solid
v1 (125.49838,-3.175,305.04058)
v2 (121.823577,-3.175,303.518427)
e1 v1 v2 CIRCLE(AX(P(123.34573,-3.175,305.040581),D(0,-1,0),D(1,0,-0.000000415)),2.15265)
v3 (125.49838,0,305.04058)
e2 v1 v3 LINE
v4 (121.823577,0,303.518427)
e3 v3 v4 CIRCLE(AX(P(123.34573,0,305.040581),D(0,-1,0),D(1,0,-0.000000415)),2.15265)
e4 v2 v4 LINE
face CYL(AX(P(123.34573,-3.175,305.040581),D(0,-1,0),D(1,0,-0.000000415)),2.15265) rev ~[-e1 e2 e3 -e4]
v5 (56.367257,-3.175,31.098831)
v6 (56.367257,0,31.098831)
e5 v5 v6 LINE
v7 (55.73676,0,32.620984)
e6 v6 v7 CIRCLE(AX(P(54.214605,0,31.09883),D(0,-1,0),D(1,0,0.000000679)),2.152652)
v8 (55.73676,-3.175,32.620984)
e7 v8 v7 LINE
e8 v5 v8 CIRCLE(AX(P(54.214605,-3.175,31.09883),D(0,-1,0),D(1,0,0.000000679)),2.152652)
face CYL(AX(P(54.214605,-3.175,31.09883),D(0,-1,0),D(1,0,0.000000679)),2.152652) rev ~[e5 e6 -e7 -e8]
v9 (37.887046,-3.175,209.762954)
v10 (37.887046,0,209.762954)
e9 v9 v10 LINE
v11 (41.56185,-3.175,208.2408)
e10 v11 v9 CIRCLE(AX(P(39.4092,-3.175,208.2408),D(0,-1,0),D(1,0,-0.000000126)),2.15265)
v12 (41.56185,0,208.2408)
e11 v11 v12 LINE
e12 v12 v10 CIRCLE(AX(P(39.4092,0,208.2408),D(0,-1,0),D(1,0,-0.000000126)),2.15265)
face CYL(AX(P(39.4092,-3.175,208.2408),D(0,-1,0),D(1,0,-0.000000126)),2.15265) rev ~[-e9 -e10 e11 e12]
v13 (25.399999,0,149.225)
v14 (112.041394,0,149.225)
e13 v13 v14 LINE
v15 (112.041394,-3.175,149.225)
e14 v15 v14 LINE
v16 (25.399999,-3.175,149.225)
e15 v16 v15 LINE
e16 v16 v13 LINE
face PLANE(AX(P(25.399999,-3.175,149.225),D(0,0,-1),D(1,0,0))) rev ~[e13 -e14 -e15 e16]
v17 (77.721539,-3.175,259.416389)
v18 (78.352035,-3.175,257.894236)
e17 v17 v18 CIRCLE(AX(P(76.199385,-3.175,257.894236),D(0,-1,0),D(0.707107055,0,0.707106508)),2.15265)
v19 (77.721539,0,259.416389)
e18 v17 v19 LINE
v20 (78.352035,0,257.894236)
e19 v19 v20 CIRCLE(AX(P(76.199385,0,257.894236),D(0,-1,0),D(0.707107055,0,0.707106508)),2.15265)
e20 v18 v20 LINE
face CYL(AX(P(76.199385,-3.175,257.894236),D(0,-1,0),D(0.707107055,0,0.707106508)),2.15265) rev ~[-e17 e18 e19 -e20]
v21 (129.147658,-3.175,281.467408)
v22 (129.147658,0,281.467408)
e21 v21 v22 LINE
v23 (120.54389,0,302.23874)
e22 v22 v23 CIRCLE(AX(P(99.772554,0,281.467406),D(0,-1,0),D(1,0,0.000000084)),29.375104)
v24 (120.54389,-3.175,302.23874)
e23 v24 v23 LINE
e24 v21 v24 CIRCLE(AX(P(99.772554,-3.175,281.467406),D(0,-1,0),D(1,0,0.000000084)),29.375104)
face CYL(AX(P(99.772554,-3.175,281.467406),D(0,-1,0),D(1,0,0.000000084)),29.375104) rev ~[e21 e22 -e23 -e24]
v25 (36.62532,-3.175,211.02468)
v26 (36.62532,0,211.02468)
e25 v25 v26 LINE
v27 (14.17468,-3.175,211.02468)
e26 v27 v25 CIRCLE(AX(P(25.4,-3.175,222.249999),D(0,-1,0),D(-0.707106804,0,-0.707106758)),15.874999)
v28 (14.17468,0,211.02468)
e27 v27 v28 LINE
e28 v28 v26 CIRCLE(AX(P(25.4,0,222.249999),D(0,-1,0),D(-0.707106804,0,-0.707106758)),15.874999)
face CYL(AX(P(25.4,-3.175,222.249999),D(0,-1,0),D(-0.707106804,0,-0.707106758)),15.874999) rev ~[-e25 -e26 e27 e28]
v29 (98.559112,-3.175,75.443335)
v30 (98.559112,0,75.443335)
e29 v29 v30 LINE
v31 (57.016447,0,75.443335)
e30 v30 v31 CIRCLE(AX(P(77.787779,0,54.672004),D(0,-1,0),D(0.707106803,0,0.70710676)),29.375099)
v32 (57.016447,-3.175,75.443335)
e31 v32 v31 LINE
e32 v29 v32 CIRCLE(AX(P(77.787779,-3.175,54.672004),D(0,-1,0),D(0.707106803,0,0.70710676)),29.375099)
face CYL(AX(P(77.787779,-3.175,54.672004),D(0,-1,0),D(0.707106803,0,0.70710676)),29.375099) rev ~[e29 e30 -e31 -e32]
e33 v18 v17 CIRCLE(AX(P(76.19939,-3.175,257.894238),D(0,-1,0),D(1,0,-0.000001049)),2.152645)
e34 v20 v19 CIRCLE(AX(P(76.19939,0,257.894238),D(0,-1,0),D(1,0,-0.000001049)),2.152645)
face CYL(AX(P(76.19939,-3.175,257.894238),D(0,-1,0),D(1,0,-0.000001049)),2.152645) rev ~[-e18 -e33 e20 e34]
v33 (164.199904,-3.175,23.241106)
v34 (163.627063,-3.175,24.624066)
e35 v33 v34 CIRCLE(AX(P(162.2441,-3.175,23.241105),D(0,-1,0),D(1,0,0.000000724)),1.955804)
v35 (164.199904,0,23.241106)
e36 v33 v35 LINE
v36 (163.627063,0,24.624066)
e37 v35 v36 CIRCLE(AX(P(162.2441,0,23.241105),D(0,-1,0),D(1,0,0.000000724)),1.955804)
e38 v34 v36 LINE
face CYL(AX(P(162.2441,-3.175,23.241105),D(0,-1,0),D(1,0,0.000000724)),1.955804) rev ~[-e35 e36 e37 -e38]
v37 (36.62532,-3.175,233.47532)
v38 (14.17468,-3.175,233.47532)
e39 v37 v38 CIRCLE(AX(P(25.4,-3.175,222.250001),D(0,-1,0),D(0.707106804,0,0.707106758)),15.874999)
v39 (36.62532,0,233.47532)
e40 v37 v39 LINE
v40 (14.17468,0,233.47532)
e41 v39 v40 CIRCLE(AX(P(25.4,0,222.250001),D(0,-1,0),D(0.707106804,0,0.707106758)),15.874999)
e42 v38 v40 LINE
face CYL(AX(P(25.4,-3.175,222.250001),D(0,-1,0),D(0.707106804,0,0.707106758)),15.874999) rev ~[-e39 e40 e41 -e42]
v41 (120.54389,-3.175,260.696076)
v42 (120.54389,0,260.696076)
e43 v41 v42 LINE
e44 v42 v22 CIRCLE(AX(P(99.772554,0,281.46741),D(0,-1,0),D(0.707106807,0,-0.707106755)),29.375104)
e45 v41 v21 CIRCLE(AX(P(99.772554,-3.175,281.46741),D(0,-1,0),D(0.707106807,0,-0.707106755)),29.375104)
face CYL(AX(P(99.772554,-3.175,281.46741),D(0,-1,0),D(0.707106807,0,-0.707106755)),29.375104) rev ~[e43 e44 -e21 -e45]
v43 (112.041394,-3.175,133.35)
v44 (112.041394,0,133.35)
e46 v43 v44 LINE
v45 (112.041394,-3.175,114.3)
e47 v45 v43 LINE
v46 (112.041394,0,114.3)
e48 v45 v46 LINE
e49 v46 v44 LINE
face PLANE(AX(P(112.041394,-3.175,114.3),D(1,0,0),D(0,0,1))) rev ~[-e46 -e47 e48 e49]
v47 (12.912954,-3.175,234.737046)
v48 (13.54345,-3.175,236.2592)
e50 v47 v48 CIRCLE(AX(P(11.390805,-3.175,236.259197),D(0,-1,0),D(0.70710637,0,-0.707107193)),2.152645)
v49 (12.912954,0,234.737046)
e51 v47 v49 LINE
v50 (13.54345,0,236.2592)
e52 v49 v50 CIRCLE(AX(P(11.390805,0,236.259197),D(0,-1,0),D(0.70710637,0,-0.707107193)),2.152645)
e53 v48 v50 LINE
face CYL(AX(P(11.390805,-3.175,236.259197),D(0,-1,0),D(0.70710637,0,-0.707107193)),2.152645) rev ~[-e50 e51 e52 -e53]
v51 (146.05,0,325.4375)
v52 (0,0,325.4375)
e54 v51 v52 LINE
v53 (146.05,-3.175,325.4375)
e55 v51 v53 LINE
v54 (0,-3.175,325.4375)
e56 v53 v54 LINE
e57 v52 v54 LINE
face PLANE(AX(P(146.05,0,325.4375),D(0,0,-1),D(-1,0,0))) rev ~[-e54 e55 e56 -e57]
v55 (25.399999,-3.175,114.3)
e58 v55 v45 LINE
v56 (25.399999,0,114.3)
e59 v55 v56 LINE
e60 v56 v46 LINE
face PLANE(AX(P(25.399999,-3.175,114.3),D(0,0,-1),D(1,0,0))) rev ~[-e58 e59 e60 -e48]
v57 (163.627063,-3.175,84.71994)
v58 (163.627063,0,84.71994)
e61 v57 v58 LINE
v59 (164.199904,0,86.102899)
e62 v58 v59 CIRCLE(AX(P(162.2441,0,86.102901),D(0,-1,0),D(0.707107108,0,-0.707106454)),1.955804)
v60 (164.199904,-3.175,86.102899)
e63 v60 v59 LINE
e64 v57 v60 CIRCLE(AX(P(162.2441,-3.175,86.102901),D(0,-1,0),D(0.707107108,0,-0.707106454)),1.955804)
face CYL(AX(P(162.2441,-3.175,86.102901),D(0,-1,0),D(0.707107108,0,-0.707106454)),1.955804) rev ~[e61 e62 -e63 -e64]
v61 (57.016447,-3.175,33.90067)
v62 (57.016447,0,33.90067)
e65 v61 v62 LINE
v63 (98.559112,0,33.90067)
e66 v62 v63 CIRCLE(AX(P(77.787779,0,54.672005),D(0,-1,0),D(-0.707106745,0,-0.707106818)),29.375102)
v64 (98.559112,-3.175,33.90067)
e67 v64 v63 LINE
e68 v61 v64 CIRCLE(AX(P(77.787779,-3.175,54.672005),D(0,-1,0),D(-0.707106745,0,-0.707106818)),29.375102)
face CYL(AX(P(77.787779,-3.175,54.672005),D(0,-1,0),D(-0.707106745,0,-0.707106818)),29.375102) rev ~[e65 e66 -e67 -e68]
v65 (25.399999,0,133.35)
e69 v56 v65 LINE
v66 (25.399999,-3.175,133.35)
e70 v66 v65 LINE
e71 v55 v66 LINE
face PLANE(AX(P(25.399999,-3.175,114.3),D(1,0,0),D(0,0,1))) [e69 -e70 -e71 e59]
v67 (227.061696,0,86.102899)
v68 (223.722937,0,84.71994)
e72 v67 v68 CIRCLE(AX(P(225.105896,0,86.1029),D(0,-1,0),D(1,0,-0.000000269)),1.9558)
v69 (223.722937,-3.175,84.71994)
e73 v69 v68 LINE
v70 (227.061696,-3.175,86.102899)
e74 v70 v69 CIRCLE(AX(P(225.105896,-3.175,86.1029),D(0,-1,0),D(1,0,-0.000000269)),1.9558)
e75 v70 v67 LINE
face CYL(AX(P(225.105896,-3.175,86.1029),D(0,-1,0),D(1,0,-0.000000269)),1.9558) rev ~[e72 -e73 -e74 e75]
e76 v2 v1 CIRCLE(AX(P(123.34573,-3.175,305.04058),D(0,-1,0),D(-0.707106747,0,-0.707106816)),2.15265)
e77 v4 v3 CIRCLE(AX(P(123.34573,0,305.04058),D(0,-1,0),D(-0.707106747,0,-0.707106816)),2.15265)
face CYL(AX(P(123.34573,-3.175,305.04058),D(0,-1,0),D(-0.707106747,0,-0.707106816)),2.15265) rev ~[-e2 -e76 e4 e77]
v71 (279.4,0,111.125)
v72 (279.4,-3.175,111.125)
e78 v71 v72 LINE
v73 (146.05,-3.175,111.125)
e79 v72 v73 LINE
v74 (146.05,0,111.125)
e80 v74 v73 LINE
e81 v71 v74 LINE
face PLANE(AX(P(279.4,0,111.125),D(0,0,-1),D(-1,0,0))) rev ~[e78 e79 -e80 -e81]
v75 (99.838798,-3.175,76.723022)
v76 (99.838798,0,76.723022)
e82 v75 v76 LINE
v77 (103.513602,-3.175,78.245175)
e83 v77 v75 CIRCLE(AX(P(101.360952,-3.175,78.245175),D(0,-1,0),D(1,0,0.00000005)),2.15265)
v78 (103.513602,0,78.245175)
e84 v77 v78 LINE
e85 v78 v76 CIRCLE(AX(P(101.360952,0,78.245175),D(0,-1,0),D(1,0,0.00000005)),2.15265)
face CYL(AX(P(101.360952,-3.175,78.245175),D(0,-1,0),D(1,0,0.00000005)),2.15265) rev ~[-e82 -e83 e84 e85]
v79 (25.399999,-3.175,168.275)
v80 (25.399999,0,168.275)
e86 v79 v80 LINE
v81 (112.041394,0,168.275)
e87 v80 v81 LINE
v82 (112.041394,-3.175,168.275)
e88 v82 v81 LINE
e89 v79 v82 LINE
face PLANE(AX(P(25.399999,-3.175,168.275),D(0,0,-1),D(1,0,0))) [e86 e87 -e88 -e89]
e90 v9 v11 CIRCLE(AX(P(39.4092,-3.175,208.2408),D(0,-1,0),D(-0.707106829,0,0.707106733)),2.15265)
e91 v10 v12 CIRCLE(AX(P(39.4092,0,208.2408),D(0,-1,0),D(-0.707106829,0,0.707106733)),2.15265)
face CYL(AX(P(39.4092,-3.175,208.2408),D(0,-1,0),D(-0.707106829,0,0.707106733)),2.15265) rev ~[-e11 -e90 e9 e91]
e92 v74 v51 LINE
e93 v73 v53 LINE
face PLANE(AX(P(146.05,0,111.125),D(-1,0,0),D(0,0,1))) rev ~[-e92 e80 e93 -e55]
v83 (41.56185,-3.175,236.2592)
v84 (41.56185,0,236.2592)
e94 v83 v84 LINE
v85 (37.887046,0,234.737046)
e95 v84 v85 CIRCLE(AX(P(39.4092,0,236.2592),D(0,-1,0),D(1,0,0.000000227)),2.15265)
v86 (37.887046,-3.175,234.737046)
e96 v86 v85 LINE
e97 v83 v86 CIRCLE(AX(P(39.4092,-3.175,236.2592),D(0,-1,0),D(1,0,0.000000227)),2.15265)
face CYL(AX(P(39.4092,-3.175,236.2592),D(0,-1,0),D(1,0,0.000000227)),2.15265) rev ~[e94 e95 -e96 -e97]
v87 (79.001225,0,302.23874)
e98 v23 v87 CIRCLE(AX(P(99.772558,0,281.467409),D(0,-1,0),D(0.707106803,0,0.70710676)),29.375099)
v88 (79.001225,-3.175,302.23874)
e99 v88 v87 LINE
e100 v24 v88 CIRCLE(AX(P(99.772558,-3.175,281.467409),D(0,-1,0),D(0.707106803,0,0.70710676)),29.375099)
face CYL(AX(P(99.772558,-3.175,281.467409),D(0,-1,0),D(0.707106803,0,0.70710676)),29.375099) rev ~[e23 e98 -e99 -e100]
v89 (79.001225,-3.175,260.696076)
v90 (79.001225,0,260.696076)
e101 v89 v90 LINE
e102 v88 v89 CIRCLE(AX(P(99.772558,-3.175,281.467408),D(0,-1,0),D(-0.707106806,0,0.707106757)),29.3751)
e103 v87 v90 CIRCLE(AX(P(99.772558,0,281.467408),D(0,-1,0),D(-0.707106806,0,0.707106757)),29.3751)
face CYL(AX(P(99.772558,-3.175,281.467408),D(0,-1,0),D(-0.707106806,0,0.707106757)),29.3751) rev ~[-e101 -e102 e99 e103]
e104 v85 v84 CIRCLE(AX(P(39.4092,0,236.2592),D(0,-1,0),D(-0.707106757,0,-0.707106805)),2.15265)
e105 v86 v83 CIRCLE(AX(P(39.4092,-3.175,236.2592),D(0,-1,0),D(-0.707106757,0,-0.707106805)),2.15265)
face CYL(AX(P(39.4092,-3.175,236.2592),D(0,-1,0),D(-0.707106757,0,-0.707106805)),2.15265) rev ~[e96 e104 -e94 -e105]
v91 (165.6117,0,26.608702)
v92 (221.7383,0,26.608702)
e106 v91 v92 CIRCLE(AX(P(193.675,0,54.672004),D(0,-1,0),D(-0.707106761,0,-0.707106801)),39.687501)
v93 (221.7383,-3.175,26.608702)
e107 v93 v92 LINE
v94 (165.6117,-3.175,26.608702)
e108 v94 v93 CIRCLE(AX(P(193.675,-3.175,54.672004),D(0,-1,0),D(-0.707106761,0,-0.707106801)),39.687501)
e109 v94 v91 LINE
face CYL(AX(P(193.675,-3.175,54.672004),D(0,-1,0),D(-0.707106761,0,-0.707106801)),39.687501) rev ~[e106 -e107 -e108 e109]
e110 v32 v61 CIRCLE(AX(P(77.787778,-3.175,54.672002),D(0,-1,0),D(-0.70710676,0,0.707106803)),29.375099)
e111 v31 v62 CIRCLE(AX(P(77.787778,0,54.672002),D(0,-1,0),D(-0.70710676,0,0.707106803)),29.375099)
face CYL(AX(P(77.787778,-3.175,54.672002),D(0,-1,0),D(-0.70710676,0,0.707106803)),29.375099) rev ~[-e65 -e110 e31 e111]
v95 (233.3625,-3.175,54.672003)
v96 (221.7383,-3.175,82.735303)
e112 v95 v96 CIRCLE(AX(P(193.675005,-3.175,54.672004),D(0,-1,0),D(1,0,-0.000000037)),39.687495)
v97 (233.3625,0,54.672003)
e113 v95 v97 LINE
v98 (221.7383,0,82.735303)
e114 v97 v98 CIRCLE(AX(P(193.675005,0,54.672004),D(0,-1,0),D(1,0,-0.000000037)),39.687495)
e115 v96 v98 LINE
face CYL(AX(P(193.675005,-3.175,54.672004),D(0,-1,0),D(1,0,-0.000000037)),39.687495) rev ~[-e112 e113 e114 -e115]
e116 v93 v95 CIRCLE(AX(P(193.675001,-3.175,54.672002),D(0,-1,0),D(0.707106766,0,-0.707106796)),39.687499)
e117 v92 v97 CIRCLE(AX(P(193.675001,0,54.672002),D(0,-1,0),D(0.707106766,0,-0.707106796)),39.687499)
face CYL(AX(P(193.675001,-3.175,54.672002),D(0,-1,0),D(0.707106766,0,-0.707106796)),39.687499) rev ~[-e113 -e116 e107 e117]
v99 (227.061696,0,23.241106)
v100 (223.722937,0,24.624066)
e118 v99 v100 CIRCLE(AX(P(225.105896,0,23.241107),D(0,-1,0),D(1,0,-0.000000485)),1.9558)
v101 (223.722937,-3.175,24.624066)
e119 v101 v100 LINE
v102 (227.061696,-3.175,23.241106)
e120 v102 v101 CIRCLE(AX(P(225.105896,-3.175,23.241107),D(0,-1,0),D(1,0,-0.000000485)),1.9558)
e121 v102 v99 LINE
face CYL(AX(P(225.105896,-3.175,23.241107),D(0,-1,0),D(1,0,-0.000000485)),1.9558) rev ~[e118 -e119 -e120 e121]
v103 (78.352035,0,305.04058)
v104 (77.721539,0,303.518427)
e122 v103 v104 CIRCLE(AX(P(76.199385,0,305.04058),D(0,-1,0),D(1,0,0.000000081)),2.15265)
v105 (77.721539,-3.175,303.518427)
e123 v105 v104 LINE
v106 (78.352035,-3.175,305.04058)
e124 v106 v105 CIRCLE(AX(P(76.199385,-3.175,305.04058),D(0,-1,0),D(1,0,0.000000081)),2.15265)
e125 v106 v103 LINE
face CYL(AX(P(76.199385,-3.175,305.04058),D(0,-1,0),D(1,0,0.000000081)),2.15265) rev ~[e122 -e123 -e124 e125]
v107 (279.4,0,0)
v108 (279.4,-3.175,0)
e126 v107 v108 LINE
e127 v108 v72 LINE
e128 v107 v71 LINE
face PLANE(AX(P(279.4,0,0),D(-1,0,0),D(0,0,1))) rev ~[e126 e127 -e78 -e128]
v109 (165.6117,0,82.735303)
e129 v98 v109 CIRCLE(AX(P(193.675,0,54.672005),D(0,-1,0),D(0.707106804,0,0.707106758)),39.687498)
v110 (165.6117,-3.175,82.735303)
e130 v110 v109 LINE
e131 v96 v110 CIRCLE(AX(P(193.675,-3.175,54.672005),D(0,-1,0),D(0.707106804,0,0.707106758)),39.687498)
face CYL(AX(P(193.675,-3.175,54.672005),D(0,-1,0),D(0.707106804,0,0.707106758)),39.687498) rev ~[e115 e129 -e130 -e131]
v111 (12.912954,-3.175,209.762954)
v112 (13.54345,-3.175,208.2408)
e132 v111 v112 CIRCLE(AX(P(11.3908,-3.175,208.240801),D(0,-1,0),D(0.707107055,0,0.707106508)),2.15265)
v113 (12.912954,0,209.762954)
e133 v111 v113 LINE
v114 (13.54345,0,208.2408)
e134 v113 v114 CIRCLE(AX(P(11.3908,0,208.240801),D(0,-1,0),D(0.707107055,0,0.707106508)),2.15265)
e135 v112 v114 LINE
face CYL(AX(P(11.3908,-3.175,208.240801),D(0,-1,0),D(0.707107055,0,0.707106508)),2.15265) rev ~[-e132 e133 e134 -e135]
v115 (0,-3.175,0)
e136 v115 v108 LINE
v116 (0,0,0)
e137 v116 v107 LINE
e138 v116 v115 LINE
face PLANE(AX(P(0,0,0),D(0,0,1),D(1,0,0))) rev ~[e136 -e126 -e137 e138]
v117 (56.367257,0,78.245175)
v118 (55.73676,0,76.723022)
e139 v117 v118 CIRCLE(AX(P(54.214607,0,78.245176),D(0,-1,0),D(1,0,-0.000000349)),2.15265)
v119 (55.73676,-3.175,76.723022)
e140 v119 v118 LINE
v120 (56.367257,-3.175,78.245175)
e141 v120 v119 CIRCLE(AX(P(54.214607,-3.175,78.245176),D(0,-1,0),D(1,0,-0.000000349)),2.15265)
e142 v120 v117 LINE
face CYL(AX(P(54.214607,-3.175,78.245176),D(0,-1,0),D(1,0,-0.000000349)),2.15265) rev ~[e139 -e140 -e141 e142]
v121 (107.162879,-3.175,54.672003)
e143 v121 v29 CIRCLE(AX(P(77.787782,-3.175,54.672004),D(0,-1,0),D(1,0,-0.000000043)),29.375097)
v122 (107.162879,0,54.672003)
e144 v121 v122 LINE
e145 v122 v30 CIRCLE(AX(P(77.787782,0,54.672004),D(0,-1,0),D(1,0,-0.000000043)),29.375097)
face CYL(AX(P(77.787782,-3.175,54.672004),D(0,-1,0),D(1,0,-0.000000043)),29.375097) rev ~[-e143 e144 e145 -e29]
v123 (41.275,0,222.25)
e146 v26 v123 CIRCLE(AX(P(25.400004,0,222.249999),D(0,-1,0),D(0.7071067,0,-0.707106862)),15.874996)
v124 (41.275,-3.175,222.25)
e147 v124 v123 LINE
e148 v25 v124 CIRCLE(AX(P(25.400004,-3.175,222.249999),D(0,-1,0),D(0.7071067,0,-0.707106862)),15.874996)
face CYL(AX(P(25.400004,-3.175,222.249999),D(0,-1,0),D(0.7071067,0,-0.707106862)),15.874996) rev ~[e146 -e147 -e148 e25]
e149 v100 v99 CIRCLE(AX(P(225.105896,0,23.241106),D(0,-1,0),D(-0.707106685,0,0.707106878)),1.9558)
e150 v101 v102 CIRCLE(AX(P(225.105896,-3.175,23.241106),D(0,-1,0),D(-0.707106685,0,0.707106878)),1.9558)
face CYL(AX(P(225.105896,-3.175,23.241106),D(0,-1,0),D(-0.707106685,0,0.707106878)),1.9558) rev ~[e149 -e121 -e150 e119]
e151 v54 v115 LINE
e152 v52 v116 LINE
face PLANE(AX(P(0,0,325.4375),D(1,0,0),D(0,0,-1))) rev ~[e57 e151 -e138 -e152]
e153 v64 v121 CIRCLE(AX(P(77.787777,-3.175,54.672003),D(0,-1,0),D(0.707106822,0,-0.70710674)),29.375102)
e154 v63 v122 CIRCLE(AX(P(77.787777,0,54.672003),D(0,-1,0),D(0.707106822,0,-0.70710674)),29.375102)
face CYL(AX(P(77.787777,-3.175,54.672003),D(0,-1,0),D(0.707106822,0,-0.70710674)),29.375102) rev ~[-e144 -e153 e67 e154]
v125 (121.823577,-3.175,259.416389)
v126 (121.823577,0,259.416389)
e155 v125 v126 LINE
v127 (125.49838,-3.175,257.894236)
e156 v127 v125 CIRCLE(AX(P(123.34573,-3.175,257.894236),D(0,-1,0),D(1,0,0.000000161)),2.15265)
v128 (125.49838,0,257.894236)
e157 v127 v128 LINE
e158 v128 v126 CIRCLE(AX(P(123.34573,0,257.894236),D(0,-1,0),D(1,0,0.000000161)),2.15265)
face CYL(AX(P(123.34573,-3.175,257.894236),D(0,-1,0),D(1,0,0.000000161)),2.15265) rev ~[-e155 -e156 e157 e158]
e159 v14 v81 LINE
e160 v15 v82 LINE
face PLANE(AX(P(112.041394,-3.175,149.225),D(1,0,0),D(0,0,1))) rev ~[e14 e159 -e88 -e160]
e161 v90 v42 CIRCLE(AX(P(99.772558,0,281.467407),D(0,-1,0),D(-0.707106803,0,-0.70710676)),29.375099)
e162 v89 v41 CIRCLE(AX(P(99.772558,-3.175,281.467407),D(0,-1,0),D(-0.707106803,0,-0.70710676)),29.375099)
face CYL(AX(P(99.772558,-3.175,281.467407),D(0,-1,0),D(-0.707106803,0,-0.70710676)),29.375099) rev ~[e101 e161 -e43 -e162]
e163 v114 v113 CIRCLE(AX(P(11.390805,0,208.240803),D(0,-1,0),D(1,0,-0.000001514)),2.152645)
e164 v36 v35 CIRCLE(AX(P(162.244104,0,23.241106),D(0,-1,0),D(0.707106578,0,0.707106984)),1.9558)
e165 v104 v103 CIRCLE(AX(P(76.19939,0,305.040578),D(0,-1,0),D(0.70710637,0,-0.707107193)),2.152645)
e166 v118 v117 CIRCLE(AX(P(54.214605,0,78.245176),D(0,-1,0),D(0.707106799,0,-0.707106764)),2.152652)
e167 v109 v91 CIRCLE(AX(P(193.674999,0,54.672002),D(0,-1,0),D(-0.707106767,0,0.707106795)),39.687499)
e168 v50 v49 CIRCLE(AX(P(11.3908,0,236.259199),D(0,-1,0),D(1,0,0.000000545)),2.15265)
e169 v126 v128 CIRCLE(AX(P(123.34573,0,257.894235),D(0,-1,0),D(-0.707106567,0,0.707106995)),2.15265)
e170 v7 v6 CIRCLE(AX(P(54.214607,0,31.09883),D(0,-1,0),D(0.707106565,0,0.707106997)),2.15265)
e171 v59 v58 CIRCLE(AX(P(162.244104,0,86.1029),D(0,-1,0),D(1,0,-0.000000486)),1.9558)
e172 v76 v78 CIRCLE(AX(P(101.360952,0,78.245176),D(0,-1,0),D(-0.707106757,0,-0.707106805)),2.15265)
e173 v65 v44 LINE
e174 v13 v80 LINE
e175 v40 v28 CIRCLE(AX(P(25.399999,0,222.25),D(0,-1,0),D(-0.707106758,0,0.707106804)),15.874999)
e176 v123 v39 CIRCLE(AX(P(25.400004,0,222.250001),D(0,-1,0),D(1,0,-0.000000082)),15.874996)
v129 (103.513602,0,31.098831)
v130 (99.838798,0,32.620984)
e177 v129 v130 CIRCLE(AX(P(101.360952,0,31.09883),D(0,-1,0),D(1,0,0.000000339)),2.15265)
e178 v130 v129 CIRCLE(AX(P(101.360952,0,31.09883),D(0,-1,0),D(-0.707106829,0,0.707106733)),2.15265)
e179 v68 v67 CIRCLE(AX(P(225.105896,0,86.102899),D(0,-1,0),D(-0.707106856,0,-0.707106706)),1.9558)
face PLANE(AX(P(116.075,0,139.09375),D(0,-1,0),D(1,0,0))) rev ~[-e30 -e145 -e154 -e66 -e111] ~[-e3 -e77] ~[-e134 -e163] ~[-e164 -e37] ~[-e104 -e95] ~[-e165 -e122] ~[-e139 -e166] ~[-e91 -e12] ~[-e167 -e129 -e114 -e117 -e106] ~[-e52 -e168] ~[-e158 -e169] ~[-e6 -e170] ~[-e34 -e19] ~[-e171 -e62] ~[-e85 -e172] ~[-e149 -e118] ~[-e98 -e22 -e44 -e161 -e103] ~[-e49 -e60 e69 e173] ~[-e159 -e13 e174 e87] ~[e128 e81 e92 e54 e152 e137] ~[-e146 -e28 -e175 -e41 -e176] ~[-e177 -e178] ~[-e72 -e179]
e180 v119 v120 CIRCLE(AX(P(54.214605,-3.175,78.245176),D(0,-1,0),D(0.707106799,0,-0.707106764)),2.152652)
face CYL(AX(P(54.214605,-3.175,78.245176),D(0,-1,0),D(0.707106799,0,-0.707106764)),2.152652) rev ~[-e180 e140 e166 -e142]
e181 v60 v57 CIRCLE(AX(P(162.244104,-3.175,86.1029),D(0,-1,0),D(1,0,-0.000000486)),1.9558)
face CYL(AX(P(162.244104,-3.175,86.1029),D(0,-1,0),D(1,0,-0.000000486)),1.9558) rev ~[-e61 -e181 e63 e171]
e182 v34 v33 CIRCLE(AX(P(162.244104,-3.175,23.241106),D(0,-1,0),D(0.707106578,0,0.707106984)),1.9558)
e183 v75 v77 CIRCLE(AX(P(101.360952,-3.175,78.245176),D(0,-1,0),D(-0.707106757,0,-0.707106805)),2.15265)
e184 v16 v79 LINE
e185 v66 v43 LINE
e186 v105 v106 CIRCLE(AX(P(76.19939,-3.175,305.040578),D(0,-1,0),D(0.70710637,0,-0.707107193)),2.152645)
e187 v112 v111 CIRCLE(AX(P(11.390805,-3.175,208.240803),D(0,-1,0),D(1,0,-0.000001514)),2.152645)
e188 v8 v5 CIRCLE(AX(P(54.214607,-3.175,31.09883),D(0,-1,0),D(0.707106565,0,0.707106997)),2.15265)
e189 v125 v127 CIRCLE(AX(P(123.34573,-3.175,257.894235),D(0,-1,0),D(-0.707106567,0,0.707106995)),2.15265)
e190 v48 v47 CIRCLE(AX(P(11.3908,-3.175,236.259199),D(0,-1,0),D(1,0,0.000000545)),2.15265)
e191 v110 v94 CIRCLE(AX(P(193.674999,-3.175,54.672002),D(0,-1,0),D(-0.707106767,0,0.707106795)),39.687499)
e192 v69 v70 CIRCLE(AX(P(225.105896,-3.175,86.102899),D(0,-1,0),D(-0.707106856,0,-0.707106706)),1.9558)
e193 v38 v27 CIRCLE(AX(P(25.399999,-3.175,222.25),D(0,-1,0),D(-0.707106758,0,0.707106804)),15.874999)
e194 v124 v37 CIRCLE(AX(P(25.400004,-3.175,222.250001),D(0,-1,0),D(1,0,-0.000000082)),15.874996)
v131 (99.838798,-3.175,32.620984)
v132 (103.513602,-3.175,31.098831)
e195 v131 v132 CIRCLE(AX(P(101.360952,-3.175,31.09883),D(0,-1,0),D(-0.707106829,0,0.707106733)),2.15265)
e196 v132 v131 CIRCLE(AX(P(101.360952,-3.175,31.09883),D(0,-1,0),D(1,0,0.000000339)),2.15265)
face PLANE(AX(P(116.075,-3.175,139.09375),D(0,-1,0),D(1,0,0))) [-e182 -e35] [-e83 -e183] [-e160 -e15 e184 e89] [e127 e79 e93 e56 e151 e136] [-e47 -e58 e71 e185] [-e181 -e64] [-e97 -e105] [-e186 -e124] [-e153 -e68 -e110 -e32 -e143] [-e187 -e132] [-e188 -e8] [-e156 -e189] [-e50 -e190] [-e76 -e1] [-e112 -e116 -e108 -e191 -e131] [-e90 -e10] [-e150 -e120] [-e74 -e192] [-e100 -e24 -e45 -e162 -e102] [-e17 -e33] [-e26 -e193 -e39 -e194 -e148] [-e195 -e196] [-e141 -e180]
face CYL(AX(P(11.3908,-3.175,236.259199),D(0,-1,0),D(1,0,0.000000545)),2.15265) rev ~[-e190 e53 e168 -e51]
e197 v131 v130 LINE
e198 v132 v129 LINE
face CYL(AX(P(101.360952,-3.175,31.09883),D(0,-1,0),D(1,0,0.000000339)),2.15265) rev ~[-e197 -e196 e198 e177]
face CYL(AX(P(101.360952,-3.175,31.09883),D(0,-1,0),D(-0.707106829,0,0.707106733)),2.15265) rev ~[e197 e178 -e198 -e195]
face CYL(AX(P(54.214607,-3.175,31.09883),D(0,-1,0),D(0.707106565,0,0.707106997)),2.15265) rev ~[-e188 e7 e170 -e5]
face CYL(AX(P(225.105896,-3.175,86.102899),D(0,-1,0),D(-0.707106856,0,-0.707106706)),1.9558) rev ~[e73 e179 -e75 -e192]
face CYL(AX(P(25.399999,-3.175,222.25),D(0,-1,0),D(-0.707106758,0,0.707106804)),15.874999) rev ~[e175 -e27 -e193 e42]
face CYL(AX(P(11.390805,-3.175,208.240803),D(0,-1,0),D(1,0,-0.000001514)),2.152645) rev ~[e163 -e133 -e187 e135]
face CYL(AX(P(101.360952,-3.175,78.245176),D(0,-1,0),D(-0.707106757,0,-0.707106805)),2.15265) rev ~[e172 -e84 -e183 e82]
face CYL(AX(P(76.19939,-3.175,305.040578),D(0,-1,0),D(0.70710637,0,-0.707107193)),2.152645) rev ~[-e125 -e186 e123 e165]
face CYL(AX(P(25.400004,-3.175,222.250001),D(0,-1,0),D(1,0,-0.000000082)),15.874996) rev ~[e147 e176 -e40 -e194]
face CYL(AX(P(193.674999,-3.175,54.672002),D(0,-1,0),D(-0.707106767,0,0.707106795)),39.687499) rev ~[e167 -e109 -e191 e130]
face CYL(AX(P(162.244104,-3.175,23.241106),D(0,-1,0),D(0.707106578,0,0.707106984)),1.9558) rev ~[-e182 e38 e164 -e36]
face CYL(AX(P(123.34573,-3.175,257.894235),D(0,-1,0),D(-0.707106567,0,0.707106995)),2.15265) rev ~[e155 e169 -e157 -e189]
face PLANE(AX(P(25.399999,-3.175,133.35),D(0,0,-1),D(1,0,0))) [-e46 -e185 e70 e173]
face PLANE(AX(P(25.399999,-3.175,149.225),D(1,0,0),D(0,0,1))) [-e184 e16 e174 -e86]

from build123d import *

# Parameters (mm, degrees)
F1_DEPTH = 3.175
F2_W     = 86.641395
F2_H     = 19.05
F3_DEPTH = 25.4


with BuildPart() as f1:
    # F0 (on Front) → F1 (new body)
    with BuildSketch(Plane.XZ):
        Polygon((146.05, 325.4375), (0, 325.4375), (0, 0), (279.4, 0), (279.4, 111.125), (146.05, 111.125), align=None)
    extrude(amount=F1_DEPTH)

    # F2 (on face) → F3 (cut)
    with BuildSketch(Plane.XZ.offset(3.175)):
        with BuildLine():
            ThreePointArc((221.7383, 26.608702), (230.341469, 39.484254), (233.3625, 54.672003))
            ThreePointArc((233.3625, 54.672003), (230.341469, 69.859752), (221.7383, 82.735303))
            Line((221.7383, 82.735303), (193.675, 54.672003))
            Line((193.675, 54.672003), (221.7383, 26.608702))
        make_face()
        with BuildLine():
            ThreePointArc((227.061696, 23.241106), (225.854349, 25.04803), (223.722937, 24.624066))
            ThreePointArc((223.722937, 24.624066), (224.357444, 21.434183), (227.061696, 23.241106))
        make_face()
        with BuildLine():
            ThreePointArc((164.199904, 23.241106), (164.051027, 23.989559), (163.627063, 24.624066))
            ThreePointArc((163.627063, 24.624066), (160.43718, 22.492654), (164.199904, 23.241106))
        make_face()
        with BuildLine():
            ThreePointArc((164.199904, 86.102899), (160.43718, 86.851352), (163.627063, 84.71994))
            ThreePointArc((163.627063, 84.71994), (164.051027, 85.354447), (164.199904, 86.102899))
        make_face()
        with BuildLine():
            ThreePointArc((227.061696, 86.102899), (224.357444, 87.909823), (223.722937, 84.71994))
            ThreePointArc((223.722937, 84.71994), (225.854349, 84.295976), (227.061696, 86.102899))
        make_face()
        with BuildLine():
            Line((193.675, 54.672003), (221.7383, 82.735303))
            ThreePointArc((221.7383, 82.735303), (193.675, 94.359503), (165.6117, 82.735303))
            Line((165.6117, 82.735303), (193.675, 54.672003))
        make_face()
        with BuildLine():
            ThreePointArc((165.6117, 26.608702), (193.675, 14.984503), (221.7383, 26.608702))
            Line((221.7383, 26.608702), (193.675, 54.672003))
            Line((193.675, 54.672003), (165.6117, 26.608702))
        make_face()
        with BuildLine():
            Line((193.675, 54.672003), (165.6117, 82.735303))
            ThreePointArc((165.6117, 82.735303), (153.9875, 54.672003), (165.6117, 26.608702))
            Line((165.6117, 26.608702), (193.675, 54.672003))
        make_face()
        with BuildLine():
            ThreePointArc((36.62532, 211.02468), (40.066588, 216.174901), (41.275, 222.25))
            ThreePointArc((41.275, 222.25), (40.066588, 228.325099), (36.62532, 233.47532))
            Line((36.62532, 233.47532), (25.4, 222.25))
            Line((25.4, 222.25), (36.62532, 211.02468))
        make_face()
        with BuildLine():
            ThreePointArc((41.56185, 208.2408), (40.232983, 210.22959), (37.887046, 209.762954))
            ThreePointArc((37.887046, 209.762954), (38.585416, 206.252011), (41.56185, 208.2408))
        make_face()
        with BuildLine():
            ThreePointArc((13.54345, 208.2408), (13.37959, 209.064584), (12.912954, 209.762954))
            ThreePointArc((12.912954, 209.762954), (9.402011, 207.417017), (13.54345, 208.2408))
        make_face()
        with BuildLine():
            ThreePointArc((13.54345, 236.2592), (9.402011, 237.082983), (12.912954, 234.737046))
            ThreePointArc((12.912954, 234.737046), (13.37959, 235.435416), (13.54345, 236.2592))
        make_face()
        with BuildLine():
            ThreePointArc((41.56185, 236.2592), (38.585416, 238.247989), (37.887046, 234.737046))
            ThreePointArc((37.887046, 234.737046), (40.232983, 234.27041), (41.56185, 236.2592))
        make_face()
        with BuildLine():
            Line((25.4, 222.25), (36.62532, 233.47532))
            ThreePointArc((36.62532, 233.47532), (25.4, 238.125), (14.17468, 233.47532))
            Line((14.17468, 233.47532), (25.4, 222.25))
        make_face()
        with BuildLine():
            ThreePointArc((14.17468, 211.02468), (25.4, 206.375), (36.62532, 211.02468))
            Line((36.62532, 211.02468), (25.4, 222.25))
            Line((25.4, 222.25), (14.17468, 211.02468))
        make_face()
        with BuildLine():
            Line((25.4, 222.25), (14.17468, 233.47532))
            ThreePointArc((14.17468, 233.47532), (9.525, 222.25), (14.17468, 211.02468))
            Line((14.17468, 211.02468), (25.4, 222.25))
        make_face()
        with BuildLine():
            ThreePointArc((120.54389, 260.696076), (126.911611, 270.226044), (129.147658, 281.467408))
            ThreePointArc((129.147658, 281.467408), (126.911611, 292.708772), (120.54389, 302.23874))
            Line((120.54389, 302.23874), (99.772558, 281.467408))
            Line((99.772558, 281.467408), (120.54389, 260.696076))
        make_face()
        with BuildLine():
            ThreePointArc((125.49838, 257.894236), (124.169513, 259.883025), (121.823577, 259.416389))
            ThreePointArc((121.823577, 259.416389), (122.521946, 255.905446), (125.49838, 257.894236))
        make_face()
        with BuildLine():
            ThreePointArc((78.352035, 257.894236), (78.188175, 258.718019), (77.721539, 259.416389))
            ThreePointArc((77.721539, 259.416389), (74.210596, 257.070452), (78.352035, 257.894236))
        make_face()
        with BuildLine():
            ThreePointArc((78.352035, 305.04058), (74.210596, 305.864364), (77.721539, 303.518427))
            ThreePointArc((77.721539, 303.518427), (78.188175, 304.216797), (78.352035, 305.04058))
        make_face()
        with BuildLine():
            ThreePointArc((125.49838, 305.04058), (122.521946, 307.02937), (121.823577, 303.518427))
            ThreePointArc((121.823577, 303.518427), (124.169513, 303.051791), (125.49838, 305.04058))
        make_face()
        with BuildLine():
            Line((99.772558, 281.467408), (120.54389, 302.23874))
            ThreePointArc((120.54389, 302.23874), (99.772558, 310.842508), (79.001225, 302.23874))
            Line((79.001225, 302.23874), (99.772558, 281.467408))
        make_face()
        with BuildLine():
            ThreePointArc((79.001225, 260.696076), (99.772558, 252.092308), (120.54389, 260.696076))
            Line((120.54389, 260.696076), (99.772558, 281.467408))
            Line((99.772558, 281.467408), (79.001225, 260.696076))
        make_face()
        with BuildLine():
            Line((99.772558, 281.467408), (79.001225, 302.23874))
            ThreePointArc((79.001225, 302.23874), (70.397458, 281.467408), (79.001225, 260.696076))
            Line((79.001225, 260.696076), (99.772558, 281.467408))
        make_face()
        with Locations((68.720697, 158.75)):
            Rectangle(F2_W, F2_H)
        with Locations((68.720697, 123.825)):
            Rectangle(F2_W, F2_H)
        with BuildLine():
            ThreePointArc((98.559112, 33.90067), (104.926833, 43.430639), (107.162879, 54.672003))
            ThreePointArc((107.162879, 54.672003), (104.926833, 65.913367), (98.559112, 75.443335))
            Line((98.559112, 75.443335), (77.787779, 54.672003))
            Line((77.787779, 54.672003), (98.559112, 33.90067))
        make_face()
        with BuildLine():
            ThreePointArc((103.513602, 31.098831), (102.184735, 33.08762), (99.838798, 32.620984))
            ThreePointArc((99.838798, 32.620984), (100.537168, 29.110041), (103.513602, 31.098831))
        make_face()
        with BuildLine():
            ThreePointArc((56.367257, 31.098831), (56.203396, 31.922614), (55.73676, 32.620984))
            ThreePointArc((55.73676, 32.620984), (52.225818, 30.275047), (56.367257, 31.098831))
        make_face()
        with BuildLine():
            ThreePointArc((56.367257, 78.245175), (52.225818, 79.068959), (55.73676, 76.723022))
            ThreePointArc((55.73676, 76.723022), (56.203396, 77.421392), (56.367257, 78.245175))
        make_face()
        with BuildLine():
            ThreePointArc((103.513602, 78.245175), (100.537168, 80.233964), (99.838798, 76.723022))
            ThreePointArc((99.838798, 76.723022), (102.184735, 76.256386), (103.513602, 78.245175))
        make_face()
        with BuildLine():
            Line((77.787779, 54.672003), (98.559112, 75.443335))
            ThreePointArc((98.559112, 75.443335), (77.787779, 84.047103), (57.016447, 75.443335))
            Line((57.016447, 75.443335), (77.787779, 54.672003))
        make_face()
        with BuildLine():
            ThreePointArc((57.016447, 33.90067), (77.787779, 25.296903), (98.559112, 33.90067))
            Line((98.559112, 33.90067), (77.787779, 54.672003))
            Line((77.787779, 54.672003), (57.016447, 33.90067))
        make_face()
        with BuildLine():
            Line((77.787779, 54.672003), (57.016447, 75.443335))
            ThreePointArc((57.016447, 75.443335), (48.412679, 54.672003), (57.016447, 33.90067))
            Line((57.016447, 33.90067), (77.787779, 54.672003))
        make_face()
    extrude(amount=-F3_DEPTH, mode=Mode.SUBTRACT)


solid = f1.part
